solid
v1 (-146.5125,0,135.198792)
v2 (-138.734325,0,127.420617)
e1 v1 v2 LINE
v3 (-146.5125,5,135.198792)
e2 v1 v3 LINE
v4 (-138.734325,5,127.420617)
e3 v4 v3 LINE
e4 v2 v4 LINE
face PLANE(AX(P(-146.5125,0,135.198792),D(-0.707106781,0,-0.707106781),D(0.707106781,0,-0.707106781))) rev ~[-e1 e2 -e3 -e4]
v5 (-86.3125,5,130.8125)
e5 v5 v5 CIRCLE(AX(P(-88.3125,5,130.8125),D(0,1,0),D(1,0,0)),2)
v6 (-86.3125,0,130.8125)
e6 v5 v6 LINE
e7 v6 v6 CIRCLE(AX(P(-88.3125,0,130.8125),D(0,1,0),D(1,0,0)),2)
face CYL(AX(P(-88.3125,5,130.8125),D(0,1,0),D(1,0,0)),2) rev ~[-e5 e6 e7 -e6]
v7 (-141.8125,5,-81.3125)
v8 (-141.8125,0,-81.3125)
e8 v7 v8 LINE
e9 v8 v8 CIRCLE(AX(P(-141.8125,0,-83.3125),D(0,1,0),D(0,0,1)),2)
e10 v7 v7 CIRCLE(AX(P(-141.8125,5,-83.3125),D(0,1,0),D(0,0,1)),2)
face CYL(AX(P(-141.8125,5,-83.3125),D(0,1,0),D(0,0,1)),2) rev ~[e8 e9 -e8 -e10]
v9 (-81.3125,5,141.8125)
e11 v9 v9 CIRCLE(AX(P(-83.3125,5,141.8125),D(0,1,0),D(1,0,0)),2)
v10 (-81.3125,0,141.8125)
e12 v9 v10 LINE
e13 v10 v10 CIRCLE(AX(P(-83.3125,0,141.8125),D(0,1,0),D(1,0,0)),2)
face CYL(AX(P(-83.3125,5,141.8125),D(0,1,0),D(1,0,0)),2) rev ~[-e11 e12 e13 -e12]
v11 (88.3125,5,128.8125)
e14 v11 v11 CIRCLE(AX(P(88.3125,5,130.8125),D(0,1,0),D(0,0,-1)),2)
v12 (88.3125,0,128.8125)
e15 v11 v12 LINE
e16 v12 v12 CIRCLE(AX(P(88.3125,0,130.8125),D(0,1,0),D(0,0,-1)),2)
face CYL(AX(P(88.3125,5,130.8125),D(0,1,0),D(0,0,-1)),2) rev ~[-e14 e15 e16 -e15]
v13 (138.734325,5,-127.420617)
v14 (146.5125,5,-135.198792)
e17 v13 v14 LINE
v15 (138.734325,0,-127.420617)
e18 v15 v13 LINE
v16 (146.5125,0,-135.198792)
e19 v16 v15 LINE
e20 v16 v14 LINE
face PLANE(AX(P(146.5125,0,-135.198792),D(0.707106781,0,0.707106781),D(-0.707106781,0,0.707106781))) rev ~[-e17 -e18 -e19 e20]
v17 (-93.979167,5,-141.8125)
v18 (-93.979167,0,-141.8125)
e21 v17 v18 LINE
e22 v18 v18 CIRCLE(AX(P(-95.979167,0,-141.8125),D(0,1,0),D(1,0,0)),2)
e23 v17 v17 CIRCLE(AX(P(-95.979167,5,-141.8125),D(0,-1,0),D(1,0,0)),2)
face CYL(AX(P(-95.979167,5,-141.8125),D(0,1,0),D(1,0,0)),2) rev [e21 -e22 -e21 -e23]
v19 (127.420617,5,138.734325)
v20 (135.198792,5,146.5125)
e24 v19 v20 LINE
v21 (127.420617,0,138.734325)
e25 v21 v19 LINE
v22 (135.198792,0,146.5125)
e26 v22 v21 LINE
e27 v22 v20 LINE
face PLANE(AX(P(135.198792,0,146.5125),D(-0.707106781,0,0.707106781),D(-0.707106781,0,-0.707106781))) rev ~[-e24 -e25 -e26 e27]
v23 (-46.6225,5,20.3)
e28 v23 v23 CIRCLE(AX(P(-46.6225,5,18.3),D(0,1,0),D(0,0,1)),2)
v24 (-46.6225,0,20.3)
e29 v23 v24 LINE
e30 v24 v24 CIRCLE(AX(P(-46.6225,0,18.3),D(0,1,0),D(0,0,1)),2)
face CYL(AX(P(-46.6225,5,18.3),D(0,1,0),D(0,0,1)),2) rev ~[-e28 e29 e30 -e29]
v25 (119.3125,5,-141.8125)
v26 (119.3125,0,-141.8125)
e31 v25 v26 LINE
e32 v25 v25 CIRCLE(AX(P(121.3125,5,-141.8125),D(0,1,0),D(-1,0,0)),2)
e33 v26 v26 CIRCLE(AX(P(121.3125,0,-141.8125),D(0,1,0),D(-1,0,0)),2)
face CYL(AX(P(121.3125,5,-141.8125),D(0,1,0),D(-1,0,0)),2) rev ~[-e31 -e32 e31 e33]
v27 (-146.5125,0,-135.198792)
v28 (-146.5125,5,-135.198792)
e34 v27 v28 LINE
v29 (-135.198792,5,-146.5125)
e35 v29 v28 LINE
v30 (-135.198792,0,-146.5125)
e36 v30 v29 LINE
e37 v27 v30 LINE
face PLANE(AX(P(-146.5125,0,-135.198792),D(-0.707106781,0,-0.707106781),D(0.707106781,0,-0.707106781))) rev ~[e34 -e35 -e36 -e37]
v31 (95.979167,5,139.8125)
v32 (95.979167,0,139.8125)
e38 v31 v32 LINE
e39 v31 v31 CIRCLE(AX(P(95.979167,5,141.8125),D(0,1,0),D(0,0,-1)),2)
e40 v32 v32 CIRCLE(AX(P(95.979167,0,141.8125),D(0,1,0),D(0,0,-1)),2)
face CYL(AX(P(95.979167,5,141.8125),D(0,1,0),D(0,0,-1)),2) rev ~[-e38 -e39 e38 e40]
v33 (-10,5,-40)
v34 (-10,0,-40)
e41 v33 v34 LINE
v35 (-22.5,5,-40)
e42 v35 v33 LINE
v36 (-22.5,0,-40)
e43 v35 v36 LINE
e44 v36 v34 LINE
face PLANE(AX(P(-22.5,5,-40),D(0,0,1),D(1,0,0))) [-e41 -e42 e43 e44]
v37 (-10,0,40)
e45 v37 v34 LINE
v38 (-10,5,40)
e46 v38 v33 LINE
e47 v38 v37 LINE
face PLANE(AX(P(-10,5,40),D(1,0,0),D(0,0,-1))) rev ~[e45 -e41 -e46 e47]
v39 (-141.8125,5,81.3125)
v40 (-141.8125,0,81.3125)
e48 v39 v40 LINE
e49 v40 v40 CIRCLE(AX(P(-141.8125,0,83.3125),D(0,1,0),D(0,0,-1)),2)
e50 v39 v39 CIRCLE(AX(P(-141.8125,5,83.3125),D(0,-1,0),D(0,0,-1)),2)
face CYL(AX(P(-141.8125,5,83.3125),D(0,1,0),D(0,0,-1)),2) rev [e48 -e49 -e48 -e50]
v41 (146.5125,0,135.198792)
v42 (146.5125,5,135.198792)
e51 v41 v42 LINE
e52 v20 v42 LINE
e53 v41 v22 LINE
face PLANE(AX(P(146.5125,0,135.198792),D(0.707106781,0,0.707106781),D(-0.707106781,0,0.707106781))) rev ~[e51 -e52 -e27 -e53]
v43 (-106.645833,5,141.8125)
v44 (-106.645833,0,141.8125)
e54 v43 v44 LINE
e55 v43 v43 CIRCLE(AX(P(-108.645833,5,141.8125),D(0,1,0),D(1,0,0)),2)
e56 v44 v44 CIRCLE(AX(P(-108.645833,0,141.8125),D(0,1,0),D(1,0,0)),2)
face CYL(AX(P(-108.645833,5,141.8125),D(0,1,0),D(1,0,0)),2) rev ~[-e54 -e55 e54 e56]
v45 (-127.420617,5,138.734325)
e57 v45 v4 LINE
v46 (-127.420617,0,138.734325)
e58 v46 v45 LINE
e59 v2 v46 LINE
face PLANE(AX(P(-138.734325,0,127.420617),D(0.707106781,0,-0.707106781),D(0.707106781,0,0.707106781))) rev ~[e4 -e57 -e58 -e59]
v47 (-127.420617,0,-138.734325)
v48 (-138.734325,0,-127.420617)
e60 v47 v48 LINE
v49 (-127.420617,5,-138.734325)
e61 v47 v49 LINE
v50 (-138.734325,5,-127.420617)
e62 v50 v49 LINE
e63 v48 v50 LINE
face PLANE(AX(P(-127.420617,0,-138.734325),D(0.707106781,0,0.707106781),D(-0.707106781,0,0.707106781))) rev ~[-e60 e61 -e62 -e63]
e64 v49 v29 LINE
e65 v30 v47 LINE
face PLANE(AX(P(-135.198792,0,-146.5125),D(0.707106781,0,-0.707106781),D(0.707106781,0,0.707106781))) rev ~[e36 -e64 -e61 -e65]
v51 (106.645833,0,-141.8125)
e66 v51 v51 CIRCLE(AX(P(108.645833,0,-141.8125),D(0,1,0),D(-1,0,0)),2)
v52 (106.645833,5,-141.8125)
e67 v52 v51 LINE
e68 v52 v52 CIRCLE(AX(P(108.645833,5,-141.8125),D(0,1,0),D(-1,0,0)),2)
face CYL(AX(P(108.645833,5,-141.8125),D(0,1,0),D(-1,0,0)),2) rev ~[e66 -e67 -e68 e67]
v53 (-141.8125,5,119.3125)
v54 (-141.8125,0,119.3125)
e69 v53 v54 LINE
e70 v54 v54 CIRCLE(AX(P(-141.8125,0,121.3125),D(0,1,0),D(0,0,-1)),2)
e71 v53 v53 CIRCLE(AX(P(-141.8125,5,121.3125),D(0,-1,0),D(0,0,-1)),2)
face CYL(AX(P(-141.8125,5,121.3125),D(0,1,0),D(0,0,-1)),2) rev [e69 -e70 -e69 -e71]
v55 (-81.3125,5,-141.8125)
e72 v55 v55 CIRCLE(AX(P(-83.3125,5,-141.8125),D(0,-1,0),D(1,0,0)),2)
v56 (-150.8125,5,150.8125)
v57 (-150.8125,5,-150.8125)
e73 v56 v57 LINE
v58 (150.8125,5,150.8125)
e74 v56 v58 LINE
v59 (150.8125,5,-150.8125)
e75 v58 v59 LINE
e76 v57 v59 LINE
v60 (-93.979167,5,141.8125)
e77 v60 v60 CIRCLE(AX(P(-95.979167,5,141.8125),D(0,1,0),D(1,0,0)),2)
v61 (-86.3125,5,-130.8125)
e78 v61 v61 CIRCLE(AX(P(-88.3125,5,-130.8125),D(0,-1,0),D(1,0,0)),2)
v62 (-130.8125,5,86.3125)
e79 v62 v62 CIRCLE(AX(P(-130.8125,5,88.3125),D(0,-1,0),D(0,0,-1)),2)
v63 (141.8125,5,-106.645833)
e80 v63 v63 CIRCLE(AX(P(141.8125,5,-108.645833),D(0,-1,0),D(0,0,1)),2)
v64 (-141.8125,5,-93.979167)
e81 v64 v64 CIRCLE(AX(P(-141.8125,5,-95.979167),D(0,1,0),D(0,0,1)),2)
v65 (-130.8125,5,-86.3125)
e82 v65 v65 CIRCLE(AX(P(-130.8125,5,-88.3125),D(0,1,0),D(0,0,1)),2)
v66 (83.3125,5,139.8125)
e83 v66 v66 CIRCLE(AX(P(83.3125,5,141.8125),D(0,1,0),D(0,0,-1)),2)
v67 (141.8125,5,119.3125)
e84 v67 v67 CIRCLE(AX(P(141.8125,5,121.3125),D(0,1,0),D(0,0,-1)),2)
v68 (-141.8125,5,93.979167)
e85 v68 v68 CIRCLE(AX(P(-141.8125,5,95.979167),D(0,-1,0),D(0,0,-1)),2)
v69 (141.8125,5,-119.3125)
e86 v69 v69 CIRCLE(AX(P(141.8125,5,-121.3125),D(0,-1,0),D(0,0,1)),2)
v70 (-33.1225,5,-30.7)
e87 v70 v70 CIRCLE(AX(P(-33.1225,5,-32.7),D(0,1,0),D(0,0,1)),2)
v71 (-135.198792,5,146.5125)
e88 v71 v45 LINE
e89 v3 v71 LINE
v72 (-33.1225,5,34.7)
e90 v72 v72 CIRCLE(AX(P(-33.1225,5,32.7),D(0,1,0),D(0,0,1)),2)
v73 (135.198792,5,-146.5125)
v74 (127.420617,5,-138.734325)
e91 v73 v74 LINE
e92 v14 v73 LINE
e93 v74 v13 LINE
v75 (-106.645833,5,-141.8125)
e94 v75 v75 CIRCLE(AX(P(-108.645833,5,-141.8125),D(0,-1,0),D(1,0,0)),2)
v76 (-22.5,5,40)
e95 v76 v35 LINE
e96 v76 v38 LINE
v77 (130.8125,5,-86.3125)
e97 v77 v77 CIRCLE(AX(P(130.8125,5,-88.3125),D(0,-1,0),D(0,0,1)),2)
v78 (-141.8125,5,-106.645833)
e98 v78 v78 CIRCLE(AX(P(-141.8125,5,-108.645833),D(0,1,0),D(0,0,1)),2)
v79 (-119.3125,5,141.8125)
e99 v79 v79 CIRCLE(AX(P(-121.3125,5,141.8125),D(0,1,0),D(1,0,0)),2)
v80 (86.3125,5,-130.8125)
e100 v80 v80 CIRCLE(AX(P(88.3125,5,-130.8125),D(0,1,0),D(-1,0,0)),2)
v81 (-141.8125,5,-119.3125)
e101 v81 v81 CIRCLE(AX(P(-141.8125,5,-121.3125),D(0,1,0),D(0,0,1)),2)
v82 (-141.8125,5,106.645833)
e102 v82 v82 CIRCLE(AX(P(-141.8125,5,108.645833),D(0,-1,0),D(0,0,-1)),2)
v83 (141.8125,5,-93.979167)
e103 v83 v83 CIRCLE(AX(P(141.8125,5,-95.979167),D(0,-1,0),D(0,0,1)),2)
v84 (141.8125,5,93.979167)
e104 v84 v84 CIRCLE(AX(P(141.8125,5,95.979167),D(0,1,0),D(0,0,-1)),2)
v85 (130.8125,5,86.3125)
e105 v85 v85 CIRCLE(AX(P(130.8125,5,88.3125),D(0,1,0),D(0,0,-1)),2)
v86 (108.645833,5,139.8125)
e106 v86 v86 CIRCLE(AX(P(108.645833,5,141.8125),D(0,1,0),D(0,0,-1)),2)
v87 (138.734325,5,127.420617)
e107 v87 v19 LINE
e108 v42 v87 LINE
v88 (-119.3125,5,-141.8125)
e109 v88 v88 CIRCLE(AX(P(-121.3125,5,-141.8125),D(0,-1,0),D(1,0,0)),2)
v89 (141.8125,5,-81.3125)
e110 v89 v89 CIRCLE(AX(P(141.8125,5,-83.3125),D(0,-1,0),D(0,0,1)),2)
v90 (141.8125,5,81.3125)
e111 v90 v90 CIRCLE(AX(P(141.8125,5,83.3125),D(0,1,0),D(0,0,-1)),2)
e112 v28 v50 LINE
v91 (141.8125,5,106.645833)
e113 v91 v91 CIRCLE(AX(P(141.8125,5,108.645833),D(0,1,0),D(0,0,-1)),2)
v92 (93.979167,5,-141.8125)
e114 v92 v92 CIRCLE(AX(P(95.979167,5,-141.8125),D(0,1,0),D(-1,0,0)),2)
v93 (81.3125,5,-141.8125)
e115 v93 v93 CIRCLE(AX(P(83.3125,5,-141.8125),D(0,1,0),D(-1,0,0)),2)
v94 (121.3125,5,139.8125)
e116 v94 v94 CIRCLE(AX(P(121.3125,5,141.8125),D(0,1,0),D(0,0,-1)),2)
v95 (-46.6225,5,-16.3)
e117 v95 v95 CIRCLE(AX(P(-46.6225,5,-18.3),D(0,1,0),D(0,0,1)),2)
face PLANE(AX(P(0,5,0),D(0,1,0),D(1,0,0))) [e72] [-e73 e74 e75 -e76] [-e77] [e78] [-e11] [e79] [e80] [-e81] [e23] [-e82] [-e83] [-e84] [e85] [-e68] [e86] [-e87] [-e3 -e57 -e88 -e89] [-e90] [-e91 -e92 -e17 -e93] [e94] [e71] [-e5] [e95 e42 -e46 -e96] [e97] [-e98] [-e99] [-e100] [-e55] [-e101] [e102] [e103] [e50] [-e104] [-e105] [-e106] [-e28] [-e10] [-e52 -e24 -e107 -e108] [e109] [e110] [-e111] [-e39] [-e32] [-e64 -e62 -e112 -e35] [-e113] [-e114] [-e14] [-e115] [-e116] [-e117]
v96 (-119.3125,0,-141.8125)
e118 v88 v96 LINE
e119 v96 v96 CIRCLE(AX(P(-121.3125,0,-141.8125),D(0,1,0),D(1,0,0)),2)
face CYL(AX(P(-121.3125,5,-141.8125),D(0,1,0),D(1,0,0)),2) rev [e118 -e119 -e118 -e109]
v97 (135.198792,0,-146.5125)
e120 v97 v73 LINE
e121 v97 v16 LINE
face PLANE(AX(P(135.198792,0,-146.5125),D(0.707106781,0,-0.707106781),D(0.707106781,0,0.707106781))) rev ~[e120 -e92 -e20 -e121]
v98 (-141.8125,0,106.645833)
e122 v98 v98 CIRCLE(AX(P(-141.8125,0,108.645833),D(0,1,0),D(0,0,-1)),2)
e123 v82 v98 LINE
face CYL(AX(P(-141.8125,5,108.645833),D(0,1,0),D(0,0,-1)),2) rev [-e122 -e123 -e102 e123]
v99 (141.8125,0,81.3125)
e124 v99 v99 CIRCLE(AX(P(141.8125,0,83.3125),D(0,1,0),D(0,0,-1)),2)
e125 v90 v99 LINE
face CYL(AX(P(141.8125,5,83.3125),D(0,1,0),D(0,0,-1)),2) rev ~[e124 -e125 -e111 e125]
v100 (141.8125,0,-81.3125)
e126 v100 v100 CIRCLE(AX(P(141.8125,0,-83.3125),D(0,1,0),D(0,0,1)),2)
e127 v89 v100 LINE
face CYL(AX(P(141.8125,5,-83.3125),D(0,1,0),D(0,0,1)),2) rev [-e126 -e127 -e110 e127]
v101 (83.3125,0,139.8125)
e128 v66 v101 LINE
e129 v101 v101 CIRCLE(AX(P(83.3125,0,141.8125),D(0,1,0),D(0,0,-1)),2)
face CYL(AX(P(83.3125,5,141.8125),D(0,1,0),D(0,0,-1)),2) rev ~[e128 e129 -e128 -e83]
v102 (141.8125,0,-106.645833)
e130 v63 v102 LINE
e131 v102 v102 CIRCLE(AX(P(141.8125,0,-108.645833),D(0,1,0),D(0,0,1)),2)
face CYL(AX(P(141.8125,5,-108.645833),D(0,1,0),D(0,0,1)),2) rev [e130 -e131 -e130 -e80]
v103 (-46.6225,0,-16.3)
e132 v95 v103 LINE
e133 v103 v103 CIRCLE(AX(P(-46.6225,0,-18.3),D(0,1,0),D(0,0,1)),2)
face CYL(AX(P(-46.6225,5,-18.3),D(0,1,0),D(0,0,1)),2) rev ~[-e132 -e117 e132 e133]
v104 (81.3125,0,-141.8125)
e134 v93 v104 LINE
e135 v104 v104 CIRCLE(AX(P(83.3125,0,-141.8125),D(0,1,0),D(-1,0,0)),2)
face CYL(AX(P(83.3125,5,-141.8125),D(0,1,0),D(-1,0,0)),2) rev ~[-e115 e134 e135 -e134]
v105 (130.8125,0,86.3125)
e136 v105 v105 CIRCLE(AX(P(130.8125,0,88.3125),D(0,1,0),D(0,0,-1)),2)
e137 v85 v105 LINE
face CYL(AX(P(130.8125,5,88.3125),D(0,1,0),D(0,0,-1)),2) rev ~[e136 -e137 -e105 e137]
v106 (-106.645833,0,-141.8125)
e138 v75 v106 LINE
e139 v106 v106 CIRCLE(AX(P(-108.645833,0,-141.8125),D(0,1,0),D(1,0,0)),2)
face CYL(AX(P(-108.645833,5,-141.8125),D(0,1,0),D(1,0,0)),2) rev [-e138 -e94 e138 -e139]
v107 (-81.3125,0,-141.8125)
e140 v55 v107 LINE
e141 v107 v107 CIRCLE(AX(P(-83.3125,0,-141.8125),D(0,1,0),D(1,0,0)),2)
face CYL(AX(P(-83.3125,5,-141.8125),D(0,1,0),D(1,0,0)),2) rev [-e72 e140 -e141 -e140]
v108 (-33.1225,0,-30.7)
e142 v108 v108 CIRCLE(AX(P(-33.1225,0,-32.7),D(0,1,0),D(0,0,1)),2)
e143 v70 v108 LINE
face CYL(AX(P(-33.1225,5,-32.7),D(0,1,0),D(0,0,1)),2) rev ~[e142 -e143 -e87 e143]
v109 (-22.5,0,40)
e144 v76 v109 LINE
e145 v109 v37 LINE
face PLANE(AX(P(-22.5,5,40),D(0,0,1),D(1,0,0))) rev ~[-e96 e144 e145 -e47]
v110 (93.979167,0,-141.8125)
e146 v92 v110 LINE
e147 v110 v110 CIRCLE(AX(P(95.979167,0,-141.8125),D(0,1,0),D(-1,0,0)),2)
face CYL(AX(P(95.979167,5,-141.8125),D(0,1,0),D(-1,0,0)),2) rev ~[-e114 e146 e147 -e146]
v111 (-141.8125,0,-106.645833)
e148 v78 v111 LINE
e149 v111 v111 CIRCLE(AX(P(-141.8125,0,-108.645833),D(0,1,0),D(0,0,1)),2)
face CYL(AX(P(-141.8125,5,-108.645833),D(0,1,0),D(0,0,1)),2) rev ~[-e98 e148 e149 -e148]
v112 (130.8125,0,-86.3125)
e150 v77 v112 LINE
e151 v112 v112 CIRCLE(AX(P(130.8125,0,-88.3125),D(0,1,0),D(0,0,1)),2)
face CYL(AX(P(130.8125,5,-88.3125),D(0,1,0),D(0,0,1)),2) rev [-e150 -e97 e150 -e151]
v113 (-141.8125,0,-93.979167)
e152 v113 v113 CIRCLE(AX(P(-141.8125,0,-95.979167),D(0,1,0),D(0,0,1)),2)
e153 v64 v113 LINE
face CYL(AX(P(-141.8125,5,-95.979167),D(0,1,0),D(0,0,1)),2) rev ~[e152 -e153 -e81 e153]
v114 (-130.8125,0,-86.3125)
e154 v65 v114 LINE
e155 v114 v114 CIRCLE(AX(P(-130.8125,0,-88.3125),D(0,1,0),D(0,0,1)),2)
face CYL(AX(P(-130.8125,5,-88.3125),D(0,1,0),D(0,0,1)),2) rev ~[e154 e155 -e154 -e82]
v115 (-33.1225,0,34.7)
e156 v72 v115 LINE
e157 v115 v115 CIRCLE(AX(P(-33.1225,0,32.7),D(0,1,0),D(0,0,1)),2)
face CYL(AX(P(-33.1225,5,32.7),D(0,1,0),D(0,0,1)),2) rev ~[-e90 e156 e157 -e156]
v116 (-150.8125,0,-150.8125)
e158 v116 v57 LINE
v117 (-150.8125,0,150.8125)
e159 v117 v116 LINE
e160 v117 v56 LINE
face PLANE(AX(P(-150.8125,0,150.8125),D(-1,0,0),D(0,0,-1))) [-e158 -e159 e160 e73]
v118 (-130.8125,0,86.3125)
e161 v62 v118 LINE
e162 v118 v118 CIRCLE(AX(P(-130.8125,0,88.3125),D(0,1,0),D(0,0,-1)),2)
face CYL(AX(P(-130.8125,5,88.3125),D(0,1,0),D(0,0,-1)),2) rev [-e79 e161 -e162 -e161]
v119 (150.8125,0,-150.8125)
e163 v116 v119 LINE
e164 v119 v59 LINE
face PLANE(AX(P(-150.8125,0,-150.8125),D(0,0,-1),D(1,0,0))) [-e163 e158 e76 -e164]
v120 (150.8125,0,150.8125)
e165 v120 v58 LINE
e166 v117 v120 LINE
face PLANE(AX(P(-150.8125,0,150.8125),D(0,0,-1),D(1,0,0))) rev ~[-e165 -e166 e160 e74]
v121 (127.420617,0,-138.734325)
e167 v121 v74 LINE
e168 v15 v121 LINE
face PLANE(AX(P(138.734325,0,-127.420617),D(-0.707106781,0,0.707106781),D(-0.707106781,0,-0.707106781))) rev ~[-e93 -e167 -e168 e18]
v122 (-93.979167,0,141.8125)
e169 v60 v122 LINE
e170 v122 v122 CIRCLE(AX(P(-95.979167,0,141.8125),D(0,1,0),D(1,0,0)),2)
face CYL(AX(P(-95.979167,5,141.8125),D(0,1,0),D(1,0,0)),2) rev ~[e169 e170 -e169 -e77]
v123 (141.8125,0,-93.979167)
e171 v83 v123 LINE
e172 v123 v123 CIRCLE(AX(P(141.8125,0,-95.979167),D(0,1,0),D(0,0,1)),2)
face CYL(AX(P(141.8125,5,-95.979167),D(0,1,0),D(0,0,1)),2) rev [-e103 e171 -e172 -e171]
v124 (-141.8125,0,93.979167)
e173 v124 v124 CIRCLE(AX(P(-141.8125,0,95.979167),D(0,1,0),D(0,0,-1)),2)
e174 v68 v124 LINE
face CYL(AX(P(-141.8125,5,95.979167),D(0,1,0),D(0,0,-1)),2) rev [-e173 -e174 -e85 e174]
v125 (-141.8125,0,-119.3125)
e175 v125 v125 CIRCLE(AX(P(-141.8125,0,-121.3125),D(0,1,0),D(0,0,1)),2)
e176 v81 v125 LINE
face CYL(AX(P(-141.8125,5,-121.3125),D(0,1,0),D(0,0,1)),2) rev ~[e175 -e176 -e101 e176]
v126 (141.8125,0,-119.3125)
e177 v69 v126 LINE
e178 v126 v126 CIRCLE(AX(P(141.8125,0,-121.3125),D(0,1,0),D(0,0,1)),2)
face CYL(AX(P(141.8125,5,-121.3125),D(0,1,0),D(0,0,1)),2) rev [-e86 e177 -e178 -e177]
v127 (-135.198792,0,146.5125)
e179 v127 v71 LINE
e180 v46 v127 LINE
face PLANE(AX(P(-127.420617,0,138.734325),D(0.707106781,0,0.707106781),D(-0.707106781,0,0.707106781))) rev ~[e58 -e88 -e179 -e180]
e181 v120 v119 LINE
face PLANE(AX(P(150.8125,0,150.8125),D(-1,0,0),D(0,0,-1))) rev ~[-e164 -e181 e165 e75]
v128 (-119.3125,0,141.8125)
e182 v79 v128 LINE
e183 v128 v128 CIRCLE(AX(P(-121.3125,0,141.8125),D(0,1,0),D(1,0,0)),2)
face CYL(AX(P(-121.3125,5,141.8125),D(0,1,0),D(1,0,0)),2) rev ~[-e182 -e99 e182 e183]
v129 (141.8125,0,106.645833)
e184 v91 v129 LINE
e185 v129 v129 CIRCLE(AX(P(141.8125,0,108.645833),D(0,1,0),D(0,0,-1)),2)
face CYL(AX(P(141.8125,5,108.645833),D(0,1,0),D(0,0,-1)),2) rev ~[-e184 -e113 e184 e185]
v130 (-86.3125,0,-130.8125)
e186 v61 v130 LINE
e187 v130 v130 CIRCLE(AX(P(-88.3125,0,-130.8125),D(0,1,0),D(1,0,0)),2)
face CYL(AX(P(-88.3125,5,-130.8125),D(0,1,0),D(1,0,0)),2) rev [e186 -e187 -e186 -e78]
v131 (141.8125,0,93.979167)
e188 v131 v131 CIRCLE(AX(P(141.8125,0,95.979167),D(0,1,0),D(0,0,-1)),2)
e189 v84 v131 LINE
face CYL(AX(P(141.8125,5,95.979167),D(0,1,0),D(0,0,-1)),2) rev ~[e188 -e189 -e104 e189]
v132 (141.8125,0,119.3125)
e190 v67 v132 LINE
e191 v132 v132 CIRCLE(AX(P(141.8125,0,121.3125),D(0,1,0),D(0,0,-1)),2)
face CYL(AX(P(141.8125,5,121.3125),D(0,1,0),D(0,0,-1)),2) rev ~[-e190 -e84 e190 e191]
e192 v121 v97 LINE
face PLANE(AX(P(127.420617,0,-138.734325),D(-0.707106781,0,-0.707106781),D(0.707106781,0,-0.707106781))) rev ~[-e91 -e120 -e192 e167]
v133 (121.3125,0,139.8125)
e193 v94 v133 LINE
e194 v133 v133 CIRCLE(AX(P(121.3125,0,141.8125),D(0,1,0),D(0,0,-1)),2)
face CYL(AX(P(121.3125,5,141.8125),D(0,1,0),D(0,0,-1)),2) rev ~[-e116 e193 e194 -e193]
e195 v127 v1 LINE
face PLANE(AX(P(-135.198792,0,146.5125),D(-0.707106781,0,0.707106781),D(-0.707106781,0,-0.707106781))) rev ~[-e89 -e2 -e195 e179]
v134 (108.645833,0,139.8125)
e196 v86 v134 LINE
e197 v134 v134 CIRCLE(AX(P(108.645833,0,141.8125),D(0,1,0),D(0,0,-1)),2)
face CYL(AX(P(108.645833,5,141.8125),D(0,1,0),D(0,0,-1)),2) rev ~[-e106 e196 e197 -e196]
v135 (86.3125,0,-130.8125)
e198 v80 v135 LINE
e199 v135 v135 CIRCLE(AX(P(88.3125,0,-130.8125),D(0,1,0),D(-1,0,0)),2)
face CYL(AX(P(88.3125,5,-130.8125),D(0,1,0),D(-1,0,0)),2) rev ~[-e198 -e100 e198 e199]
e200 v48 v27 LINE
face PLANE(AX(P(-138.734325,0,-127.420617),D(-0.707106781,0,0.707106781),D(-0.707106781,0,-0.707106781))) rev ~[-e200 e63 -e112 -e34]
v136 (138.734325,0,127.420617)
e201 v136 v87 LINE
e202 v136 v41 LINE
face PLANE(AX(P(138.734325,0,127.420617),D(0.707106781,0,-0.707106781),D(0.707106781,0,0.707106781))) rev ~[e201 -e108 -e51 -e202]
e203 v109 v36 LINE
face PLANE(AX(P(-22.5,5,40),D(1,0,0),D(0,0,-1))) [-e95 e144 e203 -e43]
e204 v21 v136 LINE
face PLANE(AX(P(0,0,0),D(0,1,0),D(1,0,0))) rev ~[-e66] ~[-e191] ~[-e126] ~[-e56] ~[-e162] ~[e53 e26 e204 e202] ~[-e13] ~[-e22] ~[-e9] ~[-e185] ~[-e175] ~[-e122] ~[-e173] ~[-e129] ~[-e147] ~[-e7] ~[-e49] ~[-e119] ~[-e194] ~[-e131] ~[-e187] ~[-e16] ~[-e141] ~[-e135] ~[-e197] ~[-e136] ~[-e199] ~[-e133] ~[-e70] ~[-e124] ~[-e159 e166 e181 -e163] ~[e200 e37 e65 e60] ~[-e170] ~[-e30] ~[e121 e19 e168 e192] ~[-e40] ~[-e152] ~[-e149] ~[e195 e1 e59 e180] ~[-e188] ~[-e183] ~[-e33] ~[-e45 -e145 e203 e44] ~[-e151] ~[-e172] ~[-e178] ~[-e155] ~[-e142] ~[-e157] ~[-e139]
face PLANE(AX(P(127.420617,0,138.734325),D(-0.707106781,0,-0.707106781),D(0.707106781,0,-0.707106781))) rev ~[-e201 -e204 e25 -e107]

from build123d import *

# Parameters (mm, degrees)
SKETCH1_W               = 301.625
SKETCH1_H               = 301.625
BOSS_EXTRUDE1_DEPTH     = 5
CUT_EXTRUDE1_DEPTH      = 10
SKETCH4_W               = 12.5
SKETCH4_H               = 80
CUT_EXTRUDE3_DEPTH      = 214.33968293
SKETCH5_R               = 2
CUT_EXTRUDE4_DEPTH      = 10
MIRROR2_COPY_1_SKETCH_R = 2
MIRROR2_COPY_1_DEPTH    = 10
MIRROR3_COPY_1_SKETCH_R = 2
MIRROR3_COPY_1_DEPTH    = 10
MIRROR3_COPY_2_SKETCH_R = 2
MIRROR3_COPY_2_DEPTH    = 10
MIRROR3_COPY_3_SKETCH_R = 2
MIRROR3_COPY_3_DEPTH    = 10
SKETCH6_R               = 2
CUT_EXTRUDE5_DEPTH      = 214.33968293


with BuildPart() as part:
    # Sketch1 → Boss-Extrude1 (new body)
    with BuildSketch(Plane(origin=(0, 0, 0), x_dir=(1, 0, 0), z_dir=(0, 1, 0))):
        Rectangle(SKETCH1_W, SKETCH1_H)
    extrude(amount=BOSS_EXTRUDE1_DEPTH)

    # Sketch2 → Cut-Extrude1 (cut)
    with BuildSketch(Plane.XZ):
        Polygon((127.420616908, 138.734325407), (138.734325407, 127.420616908), (146.5125, 135.198791501), (135.198791501, 146.5125), align=None)
        Polygon((146.5125, -135.198791501), (138.734325407, -127.420616908), (127.420616908, -138.734325407), (135.198791501, -146.5125), align=None)
        Polygon((-135.198791501, -146.5125), (-127.420616908, -138.734325407), (-138.734325407, -127.420616908), (-146.5125, -135.198791501), align=None)
        Polygon((-146.5125, 135.198791501), (-138.734325407, 127.420616908), (-127.420616908, 138.734325407), (-135.198791501, 146.5125), align=None)
    extrude(amount=-CUT_EXTRUDE1_DEPTH, mode=Mode.SUBTRACT)

    # Sketch4 → Cut-Extrude3 (cut, through all)
    with BuildSketch(Plane(origin=(0, 5, 0), x_dir=(1, 0, 0), z_dir=(0, 1, 0))):
        with Locations((-16.25, 0)):
            Rectangle(SKETCH4_W, SKETCH4_H)
    extrude(amount=-CUT_EXTRUDE3_DEPTH, mode=Mode.SUBTRACT)

    # Sketch5 → Cut-Extrude4 (cut)
    with BuildSketch(Plane(origin=(0, 5, 0), x_dir=(1, 0, 0), z_dir=(0, 1, 0))):
        with Locations(Location((-130.8125, 88.3125, 0), (0, 0, 270))):
            Circle(SKETCH5_R)
        with Locations(Location((-141.8125, 95.979166667, 0), (0, 0, 270))):
            Circle(SKETCH5_R)
        with Locations(Location((-141.8125, 83.3125, 0), (0, 0, 270))):
            Circle(SKETCH5_R)
        with Locations(Location((-141.8125, 108.645833333, 0), (0, 0, 270))):
            Circle(SKETCH5_R)
        with Locations(Location((-141.8125, 121.3125, 0), (0, 0, 270))):
            Circle(SKETCH5_R)
    cut_extrude4 = extrude(amount=-CUT_EXTRUDE4_DEPTH, mode=Mode.SUBTRACT)

    # Mirror1: Cut-Extrude4 across plane
    add(cut_extrude4.mirror(Plane(origin=(0, 0, 0), x_dir=(0.7071067811865476, 0, 0.7071067811865476), z_dir=(-0.7071067811865477, 0, 0.7071067811865475))), mode=Mode.SUBTRACT)

    # Mirror2: Cut-Extrude4 across plane
    add(cut_extrude4.mirror(Plane.XY), mode=Mode.SUBTRACT)

    # Mirror2 copy 1 sketch → Mirror2 copy 1 (cut)
    with BuildSketch(Plane(origin=(0, 5, 0), x_dir=(0, 0, -1), z_dir=(0, 1, 0))):
        with Locations(Location((-130.8125, 88.3125, 0), (0, 0, 270))):
            Circle(MIRROR2_COPY_1_SKETCH_R)
        with Locations(Location((-141.8125, 95.979166667, 0), (0, 0, 270))):
            Circle(MIRROR2_COPY_1_SKETCH_R)
        with Locations(Location((-141.8125, 83.3125, 0), (0, 0, 270))):
            Circle(MIRROR2_COPY_1_SKETCH_R)
        with Locations(Location((-141.8125, 108.645833333, 0), (0, 0, 270))):
            Circle(MIRROR2_COPY_1_SKETCH_R)
        with Locations(Location((-141.8125, 121.3125, 0), (0, 0, 270))):
            Circle(MIRROR2_COPY_1_SKETCH_R)
    extrude(amount=-MIRROR2_COPY_1_DEPTH, mode=Mode.SUBTRACT)

    # Mirror3: Cut-Extrude4 across plane
    add(cut_extrude4.mirror(Plane(origin=(0, 0, 0), x_dir=(0, 0, 1), z_dir=(1, 0, 0))), mode=Mode.SUBTRACT)

    # Mirror3 copy 1 sketch → Mirror3 copy 1 (cut)
    with BuildSketch(Plane.ZX.offset(5)):
        with Locations(Location((-130.8125, 88.3125, 0), (0, 0, 270))):
            Circle(MIRROR3_COPY_1_SKETCH_R)
        with Locations(Location((-141.8125, 95.979166667, 0), (0, 0, 270))):
            Circle(MIRROR3_COPY_1_SKETCH_R)
        with Locations(Location((-141.8125, 83.3125, 0), (0, 0, 270))):
            Circle(MIRROR3_COPY_1_SKETCH_R)
        with Locations(Location((-141.8125, 108.645833333, 0), (0, 0, 270))):
            Circle(MIRROR3_COPY_1_SKETCH_R)
        with Locations(Location((-141.8125, 121.3125, 0), (0, 0, 270))):
            Circle(MIRROR3_COPY_1_SKETCH_R)
    extrude(amount=-MIRROR3_COPY_1_DEPTH, mode=Mode.SUBTRACT)

    # Mirror3 copy 2 sketch → Mirror3 copy 2 (cut)
    with BuildSketch(Plane(origin=(0, 5, 0), x_dir=(-1, 0, 0), z_dir=(0, 1, 0))):
        with Locations(Location((-130.8125, 88.3125, 0), (0, 0, 270))):
            Circle(MIRROR3_COPY_2_SKETCH_R)
        with Locations(Location((-141.8125, 95.979166667, 0), (0, 0, 270))):
            Circle(MIRROR3_COPY_2_SKETCH_R)
        with Locations(Location((-141.8125, 83.3125, 0), (0, 0, 270))):
            Circle(MIRROR3_COPY_2_SKETCH_R)
        with Locations(Location((-141.8125, 108.645833333, 0), (0, 0, 270))):
            Circle(MIRROR3_COPY_2_SKETCH_R)
        with Locations(Location((-141.8125, 121.3125, 0), (0, 0, 270))):
            Circle(MIRROR3_COPY_2_SKETCH_R)
    extrude(amount=-MIRROR3_COPY_2_DEPTH, mode=Mode.SUBTRACT)

    # Mirror3 copy 3 sketch → Mirror3 copy 3 (cut)
    with BuildSketch(Plane(origin=(0, 5, 0), x_dir=(0, 0, -1), z_dir=(0, 1, 0))):
        with Locations((-130.8125, -88.3125)):
            Circle(MIRROR3_COPY_3_SKETCH_R)
        with Locations((-141.8125, -95.979166667)):
            Circle(MIRROR3_COPY_3_SKETCH_R)
        with Locations((-141.8125, -83.3125)):
            Circle(MIRROR3_COPY_3_SKETCH_R)
        with Locations((-141.8125, -108.645833333)):
            Circle(MIRROR3_COPY_3_SKETCH_R)
        with Locations((-141.8125, -121.3125)):
            Circle(MIRROR3_COPY_3_SKETCH_R)
    extrude(amount=-MIRROR3_COPY_3_DEPTH, mode=Mode.SUBTRACT)

    # Sketch6 → Cut-Extrude5 (cut, through all)
    with BuildSketch(Plane(origin=(0, 5, 0), x_dir=(1, 0, 0), z_dir=(0, 1, 0))):
        with Locations(Location((-33.1225, -32.7, 0), (0, 0, 270))):
            Circle(SKETCH6_R)
        with Locations(Location((-46.6225, -18.3, 0), (0, 0, 270))):
            Circle(SKETCH6_R)
        with Locations(Location((-46.6225, 18.3, 0), (0, 0, 270))):
            Circle(SKETCH6_R)
        with Locations(Location((-33.1225, 32.7, 0), (0, 0, 270))):
            Circle(SKETCH6_R)
    extrude(amount=-CUT_EXTRUDE5_DEPTH, mode=Mode.SUBTRACT)


solid = part.part
